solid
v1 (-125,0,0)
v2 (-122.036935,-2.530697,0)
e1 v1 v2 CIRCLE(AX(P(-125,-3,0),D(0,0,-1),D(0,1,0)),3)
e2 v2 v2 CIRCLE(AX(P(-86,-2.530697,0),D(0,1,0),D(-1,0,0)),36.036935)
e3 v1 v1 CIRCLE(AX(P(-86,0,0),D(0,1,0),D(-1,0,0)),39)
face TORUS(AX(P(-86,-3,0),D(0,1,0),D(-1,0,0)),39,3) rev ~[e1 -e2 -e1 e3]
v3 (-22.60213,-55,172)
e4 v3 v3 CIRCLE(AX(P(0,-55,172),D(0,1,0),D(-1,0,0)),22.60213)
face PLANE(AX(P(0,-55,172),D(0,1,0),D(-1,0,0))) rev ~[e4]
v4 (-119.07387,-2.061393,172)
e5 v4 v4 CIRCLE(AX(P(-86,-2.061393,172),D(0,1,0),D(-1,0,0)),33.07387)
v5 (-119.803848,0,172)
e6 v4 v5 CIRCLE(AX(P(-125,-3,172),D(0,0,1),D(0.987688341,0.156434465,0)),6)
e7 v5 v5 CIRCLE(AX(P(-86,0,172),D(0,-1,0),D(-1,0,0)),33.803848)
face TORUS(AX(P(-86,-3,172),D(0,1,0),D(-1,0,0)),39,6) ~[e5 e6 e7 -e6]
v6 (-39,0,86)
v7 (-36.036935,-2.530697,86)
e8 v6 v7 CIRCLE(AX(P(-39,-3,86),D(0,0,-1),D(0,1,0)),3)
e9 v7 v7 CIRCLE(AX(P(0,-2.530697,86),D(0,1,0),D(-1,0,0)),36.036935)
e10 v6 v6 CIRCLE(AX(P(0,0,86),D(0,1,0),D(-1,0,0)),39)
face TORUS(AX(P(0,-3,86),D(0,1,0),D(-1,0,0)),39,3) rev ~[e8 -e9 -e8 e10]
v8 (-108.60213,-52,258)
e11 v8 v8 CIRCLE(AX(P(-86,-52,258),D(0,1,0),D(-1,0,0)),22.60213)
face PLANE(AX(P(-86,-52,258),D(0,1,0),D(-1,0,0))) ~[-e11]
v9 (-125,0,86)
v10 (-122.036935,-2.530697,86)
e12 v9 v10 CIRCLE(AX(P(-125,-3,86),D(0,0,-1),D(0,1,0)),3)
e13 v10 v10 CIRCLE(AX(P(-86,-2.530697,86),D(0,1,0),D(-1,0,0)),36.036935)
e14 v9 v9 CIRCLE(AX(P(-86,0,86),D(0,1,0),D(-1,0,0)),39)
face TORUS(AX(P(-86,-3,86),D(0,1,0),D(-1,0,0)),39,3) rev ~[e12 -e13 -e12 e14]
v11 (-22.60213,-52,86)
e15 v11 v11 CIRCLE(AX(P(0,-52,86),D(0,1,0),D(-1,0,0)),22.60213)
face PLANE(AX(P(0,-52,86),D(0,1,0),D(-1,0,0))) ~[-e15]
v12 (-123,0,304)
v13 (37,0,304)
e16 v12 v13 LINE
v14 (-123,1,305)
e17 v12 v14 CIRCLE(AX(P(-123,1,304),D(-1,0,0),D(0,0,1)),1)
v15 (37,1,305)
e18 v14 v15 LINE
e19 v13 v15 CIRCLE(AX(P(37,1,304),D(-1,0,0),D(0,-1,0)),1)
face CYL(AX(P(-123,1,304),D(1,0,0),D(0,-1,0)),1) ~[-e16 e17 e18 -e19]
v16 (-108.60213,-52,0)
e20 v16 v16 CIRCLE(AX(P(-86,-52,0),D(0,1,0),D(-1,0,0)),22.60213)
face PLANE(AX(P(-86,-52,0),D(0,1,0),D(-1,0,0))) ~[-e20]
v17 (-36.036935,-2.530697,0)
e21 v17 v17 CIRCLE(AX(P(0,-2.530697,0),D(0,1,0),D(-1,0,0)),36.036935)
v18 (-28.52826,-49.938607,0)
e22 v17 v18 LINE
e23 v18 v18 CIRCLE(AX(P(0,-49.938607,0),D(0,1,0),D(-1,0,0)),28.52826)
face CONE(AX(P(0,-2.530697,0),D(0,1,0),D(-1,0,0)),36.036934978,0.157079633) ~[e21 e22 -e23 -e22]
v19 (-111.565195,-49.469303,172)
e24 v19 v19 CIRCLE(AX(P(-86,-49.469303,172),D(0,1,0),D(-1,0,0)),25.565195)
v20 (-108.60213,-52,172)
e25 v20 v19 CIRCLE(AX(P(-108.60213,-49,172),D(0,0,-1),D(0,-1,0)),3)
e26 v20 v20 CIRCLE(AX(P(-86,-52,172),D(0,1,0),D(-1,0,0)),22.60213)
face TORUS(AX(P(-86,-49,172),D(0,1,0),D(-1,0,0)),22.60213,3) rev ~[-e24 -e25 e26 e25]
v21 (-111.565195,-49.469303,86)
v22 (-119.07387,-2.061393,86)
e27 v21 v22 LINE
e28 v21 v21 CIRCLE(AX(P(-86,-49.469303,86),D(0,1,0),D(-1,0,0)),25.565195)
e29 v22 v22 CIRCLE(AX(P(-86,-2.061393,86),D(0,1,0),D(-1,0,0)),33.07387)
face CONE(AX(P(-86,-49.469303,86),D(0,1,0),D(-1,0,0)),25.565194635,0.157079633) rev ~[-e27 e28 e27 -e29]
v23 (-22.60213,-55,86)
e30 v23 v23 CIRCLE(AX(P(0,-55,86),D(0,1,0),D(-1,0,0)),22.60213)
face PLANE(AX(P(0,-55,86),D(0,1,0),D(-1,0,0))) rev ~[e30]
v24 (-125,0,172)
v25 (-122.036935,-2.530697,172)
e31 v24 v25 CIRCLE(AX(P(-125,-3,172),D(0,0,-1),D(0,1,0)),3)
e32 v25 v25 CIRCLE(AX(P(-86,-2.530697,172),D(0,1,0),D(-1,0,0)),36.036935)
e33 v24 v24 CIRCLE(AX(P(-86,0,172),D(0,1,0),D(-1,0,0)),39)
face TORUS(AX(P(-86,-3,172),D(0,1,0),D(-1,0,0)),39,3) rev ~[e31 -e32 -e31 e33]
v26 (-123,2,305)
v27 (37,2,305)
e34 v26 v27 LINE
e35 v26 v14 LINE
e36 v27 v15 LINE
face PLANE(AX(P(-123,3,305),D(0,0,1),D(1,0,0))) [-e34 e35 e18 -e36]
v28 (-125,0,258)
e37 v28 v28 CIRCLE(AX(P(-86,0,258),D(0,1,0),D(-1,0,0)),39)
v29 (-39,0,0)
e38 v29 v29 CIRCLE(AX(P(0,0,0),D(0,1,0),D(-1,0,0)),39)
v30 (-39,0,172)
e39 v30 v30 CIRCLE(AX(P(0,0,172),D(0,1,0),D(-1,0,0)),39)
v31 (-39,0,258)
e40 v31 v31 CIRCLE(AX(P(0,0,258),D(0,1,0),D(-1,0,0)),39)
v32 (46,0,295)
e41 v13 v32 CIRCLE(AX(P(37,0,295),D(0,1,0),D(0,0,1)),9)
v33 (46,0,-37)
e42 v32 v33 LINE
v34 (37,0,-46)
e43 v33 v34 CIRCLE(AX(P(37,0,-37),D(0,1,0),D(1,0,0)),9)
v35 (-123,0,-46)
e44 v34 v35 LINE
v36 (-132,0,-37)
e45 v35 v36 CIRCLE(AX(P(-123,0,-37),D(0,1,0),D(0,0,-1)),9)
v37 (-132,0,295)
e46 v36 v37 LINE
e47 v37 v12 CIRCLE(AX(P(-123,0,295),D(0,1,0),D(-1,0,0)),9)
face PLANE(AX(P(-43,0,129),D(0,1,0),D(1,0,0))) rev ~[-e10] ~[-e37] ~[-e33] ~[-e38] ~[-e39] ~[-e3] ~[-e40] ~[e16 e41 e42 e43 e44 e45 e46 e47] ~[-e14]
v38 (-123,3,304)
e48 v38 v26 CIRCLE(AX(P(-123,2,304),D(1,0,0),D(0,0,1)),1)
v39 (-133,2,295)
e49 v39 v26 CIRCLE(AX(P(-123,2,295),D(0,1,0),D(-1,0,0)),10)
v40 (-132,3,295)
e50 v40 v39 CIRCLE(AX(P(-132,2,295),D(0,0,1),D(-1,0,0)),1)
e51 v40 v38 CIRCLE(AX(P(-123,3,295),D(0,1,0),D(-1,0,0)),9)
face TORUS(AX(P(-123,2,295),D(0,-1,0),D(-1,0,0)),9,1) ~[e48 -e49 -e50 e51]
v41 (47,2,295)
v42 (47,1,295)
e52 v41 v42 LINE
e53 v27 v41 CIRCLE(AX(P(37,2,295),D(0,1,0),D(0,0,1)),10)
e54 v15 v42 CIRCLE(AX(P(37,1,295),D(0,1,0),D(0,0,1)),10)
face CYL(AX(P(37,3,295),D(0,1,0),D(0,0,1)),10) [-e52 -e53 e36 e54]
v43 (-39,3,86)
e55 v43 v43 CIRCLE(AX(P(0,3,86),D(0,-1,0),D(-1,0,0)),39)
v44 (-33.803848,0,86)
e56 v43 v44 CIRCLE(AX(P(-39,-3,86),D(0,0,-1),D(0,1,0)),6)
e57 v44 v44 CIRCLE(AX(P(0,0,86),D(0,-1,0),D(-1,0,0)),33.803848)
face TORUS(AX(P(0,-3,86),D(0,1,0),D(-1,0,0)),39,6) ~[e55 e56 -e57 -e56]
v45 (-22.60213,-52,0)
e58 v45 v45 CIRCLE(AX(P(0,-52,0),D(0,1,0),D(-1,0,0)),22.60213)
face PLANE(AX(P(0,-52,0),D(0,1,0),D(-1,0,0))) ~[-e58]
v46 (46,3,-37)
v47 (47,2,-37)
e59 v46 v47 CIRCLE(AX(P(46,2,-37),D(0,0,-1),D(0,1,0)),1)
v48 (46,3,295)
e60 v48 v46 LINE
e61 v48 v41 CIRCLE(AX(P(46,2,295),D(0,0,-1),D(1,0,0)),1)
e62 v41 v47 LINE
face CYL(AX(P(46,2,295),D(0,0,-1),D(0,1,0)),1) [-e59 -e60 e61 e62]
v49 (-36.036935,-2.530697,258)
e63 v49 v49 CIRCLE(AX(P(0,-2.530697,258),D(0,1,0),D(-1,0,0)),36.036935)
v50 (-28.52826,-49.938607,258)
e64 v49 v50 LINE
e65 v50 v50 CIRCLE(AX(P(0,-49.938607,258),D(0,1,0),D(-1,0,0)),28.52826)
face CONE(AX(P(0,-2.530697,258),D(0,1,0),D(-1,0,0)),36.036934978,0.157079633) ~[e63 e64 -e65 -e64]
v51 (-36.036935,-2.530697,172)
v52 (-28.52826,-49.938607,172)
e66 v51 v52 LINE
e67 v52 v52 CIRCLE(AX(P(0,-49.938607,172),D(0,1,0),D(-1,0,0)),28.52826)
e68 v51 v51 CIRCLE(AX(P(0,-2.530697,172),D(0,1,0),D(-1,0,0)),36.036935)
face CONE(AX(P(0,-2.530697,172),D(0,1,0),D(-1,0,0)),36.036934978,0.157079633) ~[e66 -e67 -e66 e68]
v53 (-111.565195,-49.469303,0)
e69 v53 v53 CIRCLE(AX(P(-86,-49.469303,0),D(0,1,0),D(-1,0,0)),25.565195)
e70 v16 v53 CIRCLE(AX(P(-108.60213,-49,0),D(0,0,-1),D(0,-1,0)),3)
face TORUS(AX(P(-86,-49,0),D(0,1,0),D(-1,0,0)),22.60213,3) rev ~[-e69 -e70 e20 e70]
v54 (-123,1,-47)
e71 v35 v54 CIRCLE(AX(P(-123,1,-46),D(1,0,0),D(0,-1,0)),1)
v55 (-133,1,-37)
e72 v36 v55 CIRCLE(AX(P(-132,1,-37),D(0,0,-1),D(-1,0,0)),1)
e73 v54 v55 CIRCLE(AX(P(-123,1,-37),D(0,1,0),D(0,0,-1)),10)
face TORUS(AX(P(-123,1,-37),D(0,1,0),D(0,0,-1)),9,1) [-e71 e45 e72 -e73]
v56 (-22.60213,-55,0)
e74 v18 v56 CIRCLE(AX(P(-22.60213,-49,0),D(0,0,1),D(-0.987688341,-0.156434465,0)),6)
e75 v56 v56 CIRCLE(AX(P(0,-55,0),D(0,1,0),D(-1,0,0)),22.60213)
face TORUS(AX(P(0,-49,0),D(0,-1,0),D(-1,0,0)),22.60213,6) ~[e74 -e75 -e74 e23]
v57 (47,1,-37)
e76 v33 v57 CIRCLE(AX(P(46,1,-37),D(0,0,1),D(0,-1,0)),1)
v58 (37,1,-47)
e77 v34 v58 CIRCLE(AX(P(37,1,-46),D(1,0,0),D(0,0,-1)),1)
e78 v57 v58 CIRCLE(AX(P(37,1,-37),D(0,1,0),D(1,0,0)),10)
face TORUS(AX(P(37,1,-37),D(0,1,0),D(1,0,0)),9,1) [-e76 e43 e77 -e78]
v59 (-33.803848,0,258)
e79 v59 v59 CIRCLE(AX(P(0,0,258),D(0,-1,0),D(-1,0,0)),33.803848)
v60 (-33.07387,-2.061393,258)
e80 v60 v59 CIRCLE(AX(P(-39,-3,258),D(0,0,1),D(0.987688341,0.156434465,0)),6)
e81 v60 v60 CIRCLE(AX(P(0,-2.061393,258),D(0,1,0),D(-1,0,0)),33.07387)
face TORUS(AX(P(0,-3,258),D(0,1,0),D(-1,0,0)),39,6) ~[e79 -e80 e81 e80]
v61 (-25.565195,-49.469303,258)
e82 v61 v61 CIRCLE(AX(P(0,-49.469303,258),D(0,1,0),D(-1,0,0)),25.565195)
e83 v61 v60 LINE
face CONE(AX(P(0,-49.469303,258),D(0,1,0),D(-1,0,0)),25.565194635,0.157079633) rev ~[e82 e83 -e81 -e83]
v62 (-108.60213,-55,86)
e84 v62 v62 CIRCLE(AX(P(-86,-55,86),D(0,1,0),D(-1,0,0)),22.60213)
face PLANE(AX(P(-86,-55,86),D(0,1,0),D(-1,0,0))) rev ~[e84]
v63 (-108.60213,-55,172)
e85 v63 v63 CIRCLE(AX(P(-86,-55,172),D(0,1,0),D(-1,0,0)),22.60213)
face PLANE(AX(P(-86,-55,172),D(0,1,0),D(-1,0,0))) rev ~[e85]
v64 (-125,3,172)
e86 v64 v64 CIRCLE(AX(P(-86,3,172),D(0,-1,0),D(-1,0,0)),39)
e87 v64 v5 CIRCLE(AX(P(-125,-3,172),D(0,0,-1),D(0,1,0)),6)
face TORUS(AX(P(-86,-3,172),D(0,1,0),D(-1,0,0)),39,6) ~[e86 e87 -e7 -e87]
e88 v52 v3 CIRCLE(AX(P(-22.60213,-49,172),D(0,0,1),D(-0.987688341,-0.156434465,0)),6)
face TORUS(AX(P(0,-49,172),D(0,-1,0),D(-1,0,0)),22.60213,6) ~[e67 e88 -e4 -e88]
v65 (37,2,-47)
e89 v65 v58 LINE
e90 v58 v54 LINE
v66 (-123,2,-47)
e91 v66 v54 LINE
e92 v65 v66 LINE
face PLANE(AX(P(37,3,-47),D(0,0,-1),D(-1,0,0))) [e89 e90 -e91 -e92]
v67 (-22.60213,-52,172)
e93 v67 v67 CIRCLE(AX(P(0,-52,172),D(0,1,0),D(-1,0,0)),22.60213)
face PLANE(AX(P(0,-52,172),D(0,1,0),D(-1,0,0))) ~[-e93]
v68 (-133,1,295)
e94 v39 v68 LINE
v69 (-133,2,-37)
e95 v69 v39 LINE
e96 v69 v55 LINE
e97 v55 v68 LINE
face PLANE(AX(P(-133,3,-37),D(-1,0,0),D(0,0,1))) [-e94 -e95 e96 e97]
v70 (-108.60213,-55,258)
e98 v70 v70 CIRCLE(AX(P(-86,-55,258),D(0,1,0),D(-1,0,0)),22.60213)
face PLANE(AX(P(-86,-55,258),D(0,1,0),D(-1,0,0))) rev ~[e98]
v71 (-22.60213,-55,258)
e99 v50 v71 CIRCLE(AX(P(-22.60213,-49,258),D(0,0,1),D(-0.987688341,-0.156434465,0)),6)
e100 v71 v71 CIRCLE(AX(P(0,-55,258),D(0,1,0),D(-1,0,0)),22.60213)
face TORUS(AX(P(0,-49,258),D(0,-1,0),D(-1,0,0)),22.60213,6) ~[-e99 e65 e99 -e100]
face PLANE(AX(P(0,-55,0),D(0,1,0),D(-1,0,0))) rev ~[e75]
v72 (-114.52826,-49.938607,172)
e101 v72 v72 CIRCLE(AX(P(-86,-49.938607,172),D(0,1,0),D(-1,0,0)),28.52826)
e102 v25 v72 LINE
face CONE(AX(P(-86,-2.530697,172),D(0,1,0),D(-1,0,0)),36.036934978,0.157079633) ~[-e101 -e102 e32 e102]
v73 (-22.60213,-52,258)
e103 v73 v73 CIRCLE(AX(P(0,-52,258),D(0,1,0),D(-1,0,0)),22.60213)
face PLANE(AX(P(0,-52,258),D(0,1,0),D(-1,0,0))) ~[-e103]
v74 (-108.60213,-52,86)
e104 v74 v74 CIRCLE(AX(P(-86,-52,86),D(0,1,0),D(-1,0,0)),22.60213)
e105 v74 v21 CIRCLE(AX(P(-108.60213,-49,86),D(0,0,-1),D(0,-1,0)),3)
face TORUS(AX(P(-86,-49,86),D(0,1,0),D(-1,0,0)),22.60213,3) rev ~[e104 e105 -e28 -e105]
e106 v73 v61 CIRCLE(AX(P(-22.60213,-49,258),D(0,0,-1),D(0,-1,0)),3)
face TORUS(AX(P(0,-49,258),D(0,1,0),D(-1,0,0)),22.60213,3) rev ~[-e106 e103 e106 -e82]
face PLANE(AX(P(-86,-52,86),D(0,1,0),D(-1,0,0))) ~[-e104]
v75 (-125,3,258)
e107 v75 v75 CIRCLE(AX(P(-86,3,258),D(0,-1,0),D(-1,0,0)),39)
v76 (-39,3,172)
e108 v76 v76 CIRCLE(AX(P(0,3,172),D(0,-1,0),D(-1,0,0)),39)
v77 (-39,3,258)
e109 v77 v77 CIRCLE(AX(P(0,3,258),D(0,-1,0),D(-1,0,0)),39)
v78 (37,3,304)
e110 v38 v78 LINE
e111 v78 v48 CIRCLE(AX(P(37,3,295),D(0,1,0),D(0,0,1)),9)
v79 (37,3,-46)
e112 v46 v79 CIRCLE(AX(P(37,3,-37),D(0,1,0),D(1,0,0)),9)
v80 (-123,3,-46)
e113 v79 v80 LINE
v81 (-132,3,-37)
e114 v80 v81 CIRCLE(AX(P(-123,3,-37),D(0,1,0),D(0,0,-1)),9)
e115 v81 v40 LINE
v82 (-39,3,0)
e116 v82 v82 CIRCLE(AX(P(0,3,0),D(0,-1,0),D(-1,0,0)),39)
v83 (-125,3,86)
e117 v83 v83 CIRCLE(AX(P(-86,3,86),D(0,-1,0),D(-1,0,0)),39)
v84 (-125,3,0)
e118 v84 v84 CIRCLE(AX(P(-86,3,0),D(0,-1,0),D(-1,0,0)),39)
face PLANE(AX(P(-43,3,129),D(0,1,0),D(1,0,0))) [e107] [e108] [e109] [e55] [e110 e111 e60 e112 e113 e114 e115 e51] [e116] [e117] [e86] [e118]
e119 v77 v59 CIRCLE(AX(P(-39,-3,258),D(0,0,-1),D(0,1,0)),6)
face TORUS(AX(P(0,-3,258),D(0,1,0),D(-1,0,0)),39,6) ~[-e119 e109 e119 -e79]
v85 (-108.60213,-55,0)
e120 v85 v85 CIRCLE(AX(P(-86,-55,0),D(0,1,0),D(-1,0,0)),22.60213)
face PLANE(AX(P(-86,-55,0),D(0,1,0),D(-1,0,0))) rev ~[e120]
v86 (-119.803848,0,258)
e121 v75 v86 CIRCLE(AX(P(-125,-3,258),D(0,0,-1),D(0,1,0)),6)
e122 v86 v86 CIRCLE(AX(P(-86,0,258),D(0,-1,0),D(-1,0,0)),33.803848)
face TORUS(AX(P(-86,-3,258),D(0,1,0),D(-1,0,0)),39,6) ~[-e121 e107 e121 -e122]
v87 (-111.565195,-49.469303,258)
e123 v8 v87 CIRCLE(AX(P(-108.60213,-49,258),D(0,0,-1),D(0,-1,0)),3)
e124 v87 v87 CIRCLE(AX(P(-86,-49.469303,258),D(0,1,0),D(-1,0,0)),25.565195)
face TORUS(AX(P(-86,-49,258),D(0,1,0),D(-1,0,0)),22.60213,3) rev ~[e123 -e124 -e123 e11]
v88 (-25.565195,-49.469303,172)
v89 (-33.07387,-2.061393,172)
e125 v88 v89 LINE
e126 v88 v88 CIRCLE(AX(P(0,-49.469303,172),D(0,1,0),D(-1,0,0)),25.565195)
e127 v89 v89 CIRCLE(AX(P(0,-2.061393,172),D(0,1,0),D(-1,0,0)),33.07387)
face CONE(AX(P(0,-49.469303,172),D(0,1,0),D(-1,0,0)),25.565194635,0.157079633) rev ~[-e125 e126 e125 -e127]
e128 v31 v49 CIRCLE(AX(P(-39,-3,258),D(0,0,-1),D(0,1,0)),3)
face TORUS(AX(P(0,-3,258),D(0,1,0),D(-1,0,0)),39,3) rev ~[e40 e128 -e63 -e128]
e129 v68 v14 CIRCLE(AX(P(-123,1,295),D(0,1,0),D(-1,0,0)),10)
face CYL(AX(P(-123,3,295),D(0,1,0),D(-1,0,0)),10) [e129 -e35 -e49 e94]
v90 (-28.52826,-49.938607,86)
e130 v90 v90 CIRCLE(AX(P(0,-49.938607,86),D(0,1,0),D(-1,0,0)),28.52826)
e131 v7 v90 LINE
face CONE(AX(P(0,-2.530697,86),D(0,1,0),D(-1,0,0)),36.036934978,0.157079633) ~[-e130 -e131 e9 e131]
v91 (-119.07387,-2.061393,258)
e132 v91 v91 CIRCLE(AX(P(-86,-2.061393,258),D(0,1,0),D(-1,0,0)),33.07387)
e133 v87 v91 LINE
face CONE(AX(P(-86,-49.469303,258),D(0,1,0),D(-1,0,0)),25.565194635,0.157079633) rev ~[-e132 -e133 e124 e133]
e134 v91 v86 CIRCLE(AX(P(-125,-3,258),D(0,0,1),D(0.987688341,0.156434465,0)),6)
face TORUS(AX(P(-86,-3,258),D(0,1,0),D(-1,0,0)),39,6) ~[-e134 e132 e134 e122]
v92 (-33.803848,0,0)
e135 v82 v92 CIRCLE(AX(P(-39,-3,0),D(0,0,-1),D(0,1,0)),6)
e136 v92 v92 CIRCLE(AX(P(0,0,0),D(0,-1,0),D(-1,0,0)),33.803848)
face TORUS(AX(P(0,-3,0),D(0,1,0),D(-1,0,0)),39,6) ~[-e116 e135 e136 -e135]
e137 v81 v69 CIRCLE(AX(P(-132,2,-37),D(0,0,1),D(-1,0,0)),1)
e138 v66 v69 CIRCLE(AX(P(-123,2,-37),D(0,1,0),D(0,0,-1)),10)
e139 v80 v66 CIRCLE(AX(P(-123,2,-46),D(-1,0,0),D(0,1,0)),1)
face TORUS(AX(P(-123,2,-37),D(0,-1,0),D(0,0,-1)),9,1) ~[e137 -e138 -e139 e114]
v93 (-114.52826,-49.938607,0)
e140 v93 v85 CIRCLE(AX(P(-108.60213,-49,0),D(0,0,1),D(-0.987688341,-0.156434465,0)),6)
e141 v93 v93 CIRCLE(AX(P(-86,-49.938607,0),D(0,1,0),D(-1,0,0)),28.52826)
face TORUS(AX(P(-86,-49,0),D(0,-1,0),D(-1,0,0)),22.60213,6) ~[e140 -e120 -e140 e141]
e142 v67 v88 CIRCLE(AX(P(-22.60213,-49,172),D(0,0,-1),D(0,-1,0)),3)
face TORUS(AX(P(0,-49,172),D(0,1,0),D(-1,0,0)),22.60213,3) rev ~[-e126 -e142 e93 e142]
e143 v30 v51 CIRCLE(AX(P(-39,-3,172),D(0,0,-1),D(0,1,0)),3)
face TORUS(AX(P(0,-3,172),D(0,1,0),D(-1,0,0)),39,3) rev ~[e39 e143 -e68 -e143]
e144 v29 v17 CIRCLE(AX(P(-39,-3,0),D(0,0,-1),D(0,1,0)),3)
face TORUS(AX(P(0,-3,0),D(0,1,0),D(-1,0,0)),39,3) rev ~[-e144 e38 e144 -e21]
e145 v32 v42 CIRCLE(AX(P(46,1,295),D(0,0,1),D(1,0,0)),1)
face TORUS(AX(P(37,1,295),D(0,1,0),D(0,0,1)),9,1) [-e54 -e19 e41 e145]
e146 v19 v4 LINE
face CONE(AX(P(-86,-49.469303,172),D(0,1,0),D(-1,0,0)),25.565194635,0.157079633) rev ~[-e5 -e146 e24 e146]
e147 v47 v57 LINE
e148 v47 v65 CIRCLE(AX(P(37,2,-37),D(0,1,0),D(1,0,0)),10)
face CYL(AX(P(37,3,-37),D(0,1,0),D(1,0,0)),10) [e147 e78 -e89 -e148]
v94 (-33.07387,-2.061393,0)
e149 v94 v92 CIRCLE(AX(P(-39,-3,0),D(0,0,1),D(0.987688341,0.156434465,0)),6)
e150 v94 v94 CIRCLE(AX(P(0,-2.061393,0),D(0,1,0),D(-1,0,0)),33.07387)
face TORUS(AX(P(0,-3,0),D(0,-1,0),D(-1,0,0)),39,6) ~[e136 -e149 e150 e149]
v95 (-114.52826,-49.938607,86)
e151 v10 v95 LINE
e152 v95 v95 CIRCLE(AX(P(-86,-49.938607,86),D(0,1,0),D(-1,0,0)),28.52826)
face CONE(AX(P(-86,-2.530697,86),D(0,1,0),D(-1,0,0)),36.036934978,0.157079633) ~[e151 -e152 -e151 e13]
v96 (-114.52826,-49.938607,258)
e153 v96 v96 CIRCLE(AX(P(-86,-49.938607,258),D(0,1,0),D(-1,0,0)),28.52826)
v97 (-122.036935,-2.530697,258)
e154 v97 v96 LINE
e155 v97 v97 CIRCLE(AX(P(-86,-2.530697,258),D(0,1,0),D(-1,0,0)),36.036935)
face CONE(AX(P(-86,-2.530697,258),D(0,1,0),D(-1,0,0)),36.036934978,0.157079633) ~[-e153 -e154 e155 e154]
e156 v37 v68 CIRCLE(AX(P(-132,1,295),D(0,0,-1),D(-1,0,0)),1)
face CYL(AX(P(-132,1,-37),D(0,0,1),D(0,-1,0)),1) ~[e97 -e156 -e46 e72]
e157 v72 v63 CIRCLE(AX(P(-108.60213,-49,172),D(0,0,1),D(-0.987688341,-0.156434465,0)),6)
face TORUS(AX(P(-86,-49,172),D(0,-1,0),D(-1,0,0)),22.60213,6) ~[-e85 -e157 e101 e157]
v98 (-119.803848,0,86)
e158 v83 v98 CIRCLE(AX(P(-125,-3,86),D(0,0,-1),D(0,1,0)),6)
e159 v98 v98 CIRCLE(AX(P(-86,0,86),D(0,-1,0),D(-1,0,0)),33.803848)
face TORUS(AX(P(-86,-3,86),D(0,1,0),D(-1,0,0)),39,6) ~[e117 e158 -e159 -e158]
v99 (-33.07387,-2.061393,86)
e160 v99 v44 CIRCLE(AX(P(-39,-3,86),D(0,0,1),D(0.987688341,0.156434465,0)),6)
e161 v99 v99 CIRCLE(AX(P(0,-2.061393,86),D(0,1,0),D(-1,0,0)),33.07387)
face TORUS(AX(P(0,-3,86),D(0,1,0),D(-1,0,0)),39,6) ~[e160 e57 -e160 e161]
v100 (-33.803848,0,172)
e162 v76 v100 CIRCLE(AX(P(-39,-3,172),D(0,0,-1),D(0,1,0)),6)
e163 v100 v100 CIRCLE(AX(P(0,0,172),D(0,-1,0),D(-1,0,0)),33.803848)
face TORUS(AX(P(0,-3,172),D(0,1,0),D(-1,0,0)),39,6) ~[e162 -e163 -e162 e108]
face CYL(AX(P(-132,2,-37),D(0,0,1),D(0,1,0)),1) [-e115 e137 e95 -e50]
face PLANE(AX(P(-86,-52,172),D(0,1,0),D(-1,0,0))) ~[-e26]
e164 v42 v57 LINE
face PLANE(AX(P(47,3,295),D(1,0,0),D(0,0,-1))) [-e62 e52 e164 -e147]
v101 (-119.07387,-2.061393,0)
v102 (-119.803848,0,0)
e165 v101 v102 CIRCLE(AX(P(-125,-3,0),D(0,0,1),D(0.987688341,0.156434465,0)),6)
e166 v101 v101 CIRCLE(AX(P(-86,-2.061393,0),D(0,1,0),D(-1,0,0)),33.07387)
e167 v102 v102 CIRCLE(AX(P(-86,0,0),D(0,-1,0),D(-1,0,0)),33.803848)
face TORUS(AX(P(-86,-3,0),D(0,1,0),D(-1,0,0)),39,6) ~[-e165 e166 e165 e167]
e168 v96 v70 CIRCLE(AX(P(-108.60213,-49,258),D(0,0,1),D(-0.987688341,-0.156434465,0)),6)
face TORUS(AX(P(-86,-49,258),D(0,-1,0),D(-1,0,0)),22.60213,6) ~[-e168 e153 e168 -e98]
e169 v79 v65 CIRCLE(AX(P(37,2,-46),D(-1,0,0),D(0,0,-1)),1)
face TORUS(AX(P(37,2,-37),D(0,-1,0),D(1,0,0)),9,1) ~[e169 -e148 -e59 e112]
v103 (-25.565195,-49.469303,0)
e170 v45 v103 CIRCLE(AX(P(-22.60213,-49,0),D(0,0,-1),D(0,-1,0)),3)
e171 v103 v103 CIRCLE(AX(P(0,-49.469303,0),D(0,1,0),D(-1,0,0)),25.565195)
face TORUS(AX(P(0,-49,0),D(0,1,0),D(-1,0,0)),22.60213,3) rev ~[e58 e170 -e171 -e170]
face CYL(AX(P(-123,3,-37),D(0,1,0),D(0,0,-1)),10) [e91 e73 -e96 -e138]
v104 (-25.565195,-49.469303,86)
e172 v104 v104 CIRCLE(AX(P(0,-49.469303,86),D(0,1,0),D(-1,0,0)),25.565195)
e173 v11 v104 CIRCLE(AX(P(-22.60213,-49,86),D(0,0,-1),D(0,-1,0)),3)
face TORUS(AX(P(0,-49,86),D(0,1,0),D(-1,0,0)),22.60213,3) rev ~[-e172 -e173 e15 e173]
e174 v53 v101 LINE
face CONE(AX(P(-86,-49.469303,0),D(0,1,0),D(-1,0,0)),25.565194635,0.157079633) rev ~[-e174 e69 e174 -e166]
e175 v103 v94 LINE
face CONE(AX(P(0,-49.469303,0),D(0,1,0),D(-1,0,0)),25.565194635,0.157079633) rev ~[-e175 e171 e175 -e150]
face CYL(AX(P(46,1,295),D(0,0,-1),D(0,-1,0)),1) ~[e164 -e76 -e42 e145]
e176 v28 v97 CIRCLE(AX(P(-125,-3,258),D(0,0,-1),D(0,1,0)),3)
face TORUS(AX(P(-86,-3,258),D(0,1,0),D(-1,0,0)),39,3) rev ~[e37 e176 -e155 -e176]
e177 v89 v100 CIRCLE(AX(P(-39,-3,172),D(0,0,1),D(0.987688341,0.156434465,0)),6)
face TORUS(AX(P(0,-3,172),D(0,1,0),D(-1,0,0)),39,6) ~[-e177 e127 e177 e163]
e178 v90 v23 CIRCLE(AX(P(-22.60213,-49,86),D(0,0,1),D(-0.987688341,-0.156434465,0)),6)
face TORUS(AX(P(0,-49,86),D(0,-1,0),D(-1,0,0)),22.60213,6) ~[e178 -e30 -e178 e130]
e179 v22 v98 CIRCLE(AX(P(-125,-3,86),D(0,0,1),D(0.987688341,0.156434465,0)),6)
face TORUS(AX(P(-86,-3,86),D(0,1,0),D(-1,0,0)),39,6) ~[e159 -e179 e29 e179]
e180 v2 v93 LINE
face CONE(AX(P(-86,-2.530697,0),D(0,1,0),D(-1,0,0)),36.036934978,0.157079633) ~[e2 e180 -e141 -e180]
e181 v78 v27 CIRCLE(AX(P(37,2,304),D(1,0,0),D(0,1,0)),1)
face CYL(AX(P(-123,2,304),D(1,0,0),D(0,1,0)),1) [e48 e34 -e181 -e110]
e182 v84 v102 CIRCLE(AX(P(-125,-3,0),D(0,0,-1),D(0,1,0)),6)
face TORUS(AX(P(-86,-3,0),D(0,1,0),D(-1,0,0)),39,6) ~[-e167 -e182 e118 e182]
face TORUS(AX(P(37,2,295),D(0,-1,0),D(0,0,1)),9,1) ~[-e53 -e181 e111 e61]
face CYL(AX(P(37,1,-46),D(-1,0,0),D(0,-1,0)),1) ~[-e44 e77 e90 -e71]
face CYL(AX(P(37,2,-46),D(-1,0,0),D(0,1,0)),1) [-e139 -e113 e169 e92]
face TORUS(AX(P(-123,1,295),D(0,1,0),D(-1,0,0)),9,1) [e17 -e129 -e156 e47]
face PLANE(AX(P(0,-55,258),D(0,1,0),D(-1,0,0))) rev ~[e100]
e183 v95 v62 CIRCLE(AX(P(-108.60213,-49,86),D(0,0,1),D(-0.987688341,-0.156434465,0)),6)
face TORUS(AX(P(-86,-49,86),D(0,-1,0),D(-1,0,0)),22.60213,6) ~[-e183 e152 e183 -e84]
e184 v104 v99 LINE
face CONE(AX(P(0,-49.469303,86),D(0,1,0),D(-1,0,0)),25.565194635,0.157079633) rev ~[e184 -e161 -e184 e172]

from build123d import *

# Parameters (mm, degrees)
BOSS_EXTRUDE1_DEPTH  = 3
FILLET1_R            = 1
LPATTERN1_COUNT      = 2
LPATTERN1_PITCH      = 86
LPATTERN1_COUNT_DIR2 = 4
LPATTERN1_PITCH_DIR2 = 86


with BuildPart() as part:
    # Sketch1 → Revolve1 (revolve)
    with BuildSketch(Plane.XY):
        with BuildLine():
            Line((-22.602129613, -55), (0, -55))
            Line((0, -55), (0, -52))
            Line((0, -52), (-22.602129613, -52))
            ThreePointArc((-22.602129613, -52), (-24.550473758, -51.281217897), (-25.565194635, -49.469303395))
            Line((-25.565194635, -49.469303395), (-33.073869956, -2.06139321))
            ThreePointArc((-33.073869956, -2.06139321), (-35.10331171, 1.562435794), (-39, 3))
            Line((-39, 3), (-39, 0))
            ThreePointArc((-39, 0), (-37.051655855, -0.718782103), (-36.036934978, -2.530696605))
            Line((-36.036934978, -2.530696605), (-28.528259657, -49.93860679))
            ThreePointArc((-28.528259657, -49.93860679), (-26.498817903, -53.562435794), (-22.602129613, -55))
        make_face()
    revolve1 = revolve(axis=Axis((0, -55, 0), (0, 1, 0)))

    # Sketch2 → Boss-Extrude1 (add)
    with BuildSketch(Plane(origin=(0, 3, 0), x_dir=(-1, 0, 0), z_dir=(0, -1, 0))):
        with BuildLine():
            Line((-37, 47), (123, 47))
            ThreePointArc((123, 47), (130.071067812, 44.071067812), (133, 37))
            Line((133, 37), (133, -295))
            ThreePointArc((133, -295), (130.071067812, -302.071067812), (123, -305))
            Line((123, -305), (-37, -305))
            ThreePointArc((-37, -305), (-44.071067812, -302.071067812), (-47, -295))
            Line((-47, -295), (-47, 37))
            ThreePointArc((-47, 37), (-44.071067812, 44.071067812), (-37, 47))
        make_face()
    extrude(amount=BOSS_EXTRUDE1_DEPTH)

    # Fillet1
    fillet1_edges = [part.edges().sort_by_distance(p)[0] for p in [
        (-130.071067812, 3, 302.071067812),
        (-133, 3, 129),
        (-130.071067812, 3, -44.071067812),
        (-43, 3, -47),
        (44.071067812, 3, -44.071067812),
        (47, 3, 129),
        (44.071067812, 3, 302.071067812),
        (-43, 3, 305),
        (-130.071067812, 0, 302.071067812),
        (-133, 0, 129),
        (-130.071067812, 0, -44.071067812),
        (-43, 0, -47),
        (44.071067812, 0, -44.071067812),
        (47, 0, 129),
        (44.071067812, 0, 302.071067812),
        (-43, 0, 305),
    ]]
    fillet(fillet1_edges, radius=FILLET1_R)

    # Sketch1<5> → Cut-Revolve2 (revolve, cut)
    with BuildSketch(Plane.XY):
        with BuildLine():
            Line((-22.602129613, -52), (0, -52))
            Line((0, -52), (0, 3))
            Line((0, 3), (-39, 3))
            ThreePointArc((-39, 3), (-35.10331171, 1.562435794), (-33.073869956, -2.06139321))
            Line((-33.073869956, -2.06139321), (-25.565194635, -49.469303395))
            ThreePointArc((-25.565194635, -49.469303395), (-24.550473758, -51.281217897), (-22.602129613, -52))
        make_face()
    cut_revolve2 = revolve(axis=Axis((0, 0, 0), (0, -1, 0)), mode=Mode.SUBTRACT)

    # LPattern1: Revolve1, Cut-Revolve2 2 × 4
    with Locations(*[(-i * LPATTERN1_PITCH, 0, j * LPATTERN1_PITCH_DIR2) for i in range(LPATTERN1_COUNT) for j in range(LPATTERN1_COUNT_DIR2) if (i, j) != (0, 0)]):
        add(revolve1)
        add(cut_revolve2, mode=Mode.SUBTRACT)


solid = part.part
